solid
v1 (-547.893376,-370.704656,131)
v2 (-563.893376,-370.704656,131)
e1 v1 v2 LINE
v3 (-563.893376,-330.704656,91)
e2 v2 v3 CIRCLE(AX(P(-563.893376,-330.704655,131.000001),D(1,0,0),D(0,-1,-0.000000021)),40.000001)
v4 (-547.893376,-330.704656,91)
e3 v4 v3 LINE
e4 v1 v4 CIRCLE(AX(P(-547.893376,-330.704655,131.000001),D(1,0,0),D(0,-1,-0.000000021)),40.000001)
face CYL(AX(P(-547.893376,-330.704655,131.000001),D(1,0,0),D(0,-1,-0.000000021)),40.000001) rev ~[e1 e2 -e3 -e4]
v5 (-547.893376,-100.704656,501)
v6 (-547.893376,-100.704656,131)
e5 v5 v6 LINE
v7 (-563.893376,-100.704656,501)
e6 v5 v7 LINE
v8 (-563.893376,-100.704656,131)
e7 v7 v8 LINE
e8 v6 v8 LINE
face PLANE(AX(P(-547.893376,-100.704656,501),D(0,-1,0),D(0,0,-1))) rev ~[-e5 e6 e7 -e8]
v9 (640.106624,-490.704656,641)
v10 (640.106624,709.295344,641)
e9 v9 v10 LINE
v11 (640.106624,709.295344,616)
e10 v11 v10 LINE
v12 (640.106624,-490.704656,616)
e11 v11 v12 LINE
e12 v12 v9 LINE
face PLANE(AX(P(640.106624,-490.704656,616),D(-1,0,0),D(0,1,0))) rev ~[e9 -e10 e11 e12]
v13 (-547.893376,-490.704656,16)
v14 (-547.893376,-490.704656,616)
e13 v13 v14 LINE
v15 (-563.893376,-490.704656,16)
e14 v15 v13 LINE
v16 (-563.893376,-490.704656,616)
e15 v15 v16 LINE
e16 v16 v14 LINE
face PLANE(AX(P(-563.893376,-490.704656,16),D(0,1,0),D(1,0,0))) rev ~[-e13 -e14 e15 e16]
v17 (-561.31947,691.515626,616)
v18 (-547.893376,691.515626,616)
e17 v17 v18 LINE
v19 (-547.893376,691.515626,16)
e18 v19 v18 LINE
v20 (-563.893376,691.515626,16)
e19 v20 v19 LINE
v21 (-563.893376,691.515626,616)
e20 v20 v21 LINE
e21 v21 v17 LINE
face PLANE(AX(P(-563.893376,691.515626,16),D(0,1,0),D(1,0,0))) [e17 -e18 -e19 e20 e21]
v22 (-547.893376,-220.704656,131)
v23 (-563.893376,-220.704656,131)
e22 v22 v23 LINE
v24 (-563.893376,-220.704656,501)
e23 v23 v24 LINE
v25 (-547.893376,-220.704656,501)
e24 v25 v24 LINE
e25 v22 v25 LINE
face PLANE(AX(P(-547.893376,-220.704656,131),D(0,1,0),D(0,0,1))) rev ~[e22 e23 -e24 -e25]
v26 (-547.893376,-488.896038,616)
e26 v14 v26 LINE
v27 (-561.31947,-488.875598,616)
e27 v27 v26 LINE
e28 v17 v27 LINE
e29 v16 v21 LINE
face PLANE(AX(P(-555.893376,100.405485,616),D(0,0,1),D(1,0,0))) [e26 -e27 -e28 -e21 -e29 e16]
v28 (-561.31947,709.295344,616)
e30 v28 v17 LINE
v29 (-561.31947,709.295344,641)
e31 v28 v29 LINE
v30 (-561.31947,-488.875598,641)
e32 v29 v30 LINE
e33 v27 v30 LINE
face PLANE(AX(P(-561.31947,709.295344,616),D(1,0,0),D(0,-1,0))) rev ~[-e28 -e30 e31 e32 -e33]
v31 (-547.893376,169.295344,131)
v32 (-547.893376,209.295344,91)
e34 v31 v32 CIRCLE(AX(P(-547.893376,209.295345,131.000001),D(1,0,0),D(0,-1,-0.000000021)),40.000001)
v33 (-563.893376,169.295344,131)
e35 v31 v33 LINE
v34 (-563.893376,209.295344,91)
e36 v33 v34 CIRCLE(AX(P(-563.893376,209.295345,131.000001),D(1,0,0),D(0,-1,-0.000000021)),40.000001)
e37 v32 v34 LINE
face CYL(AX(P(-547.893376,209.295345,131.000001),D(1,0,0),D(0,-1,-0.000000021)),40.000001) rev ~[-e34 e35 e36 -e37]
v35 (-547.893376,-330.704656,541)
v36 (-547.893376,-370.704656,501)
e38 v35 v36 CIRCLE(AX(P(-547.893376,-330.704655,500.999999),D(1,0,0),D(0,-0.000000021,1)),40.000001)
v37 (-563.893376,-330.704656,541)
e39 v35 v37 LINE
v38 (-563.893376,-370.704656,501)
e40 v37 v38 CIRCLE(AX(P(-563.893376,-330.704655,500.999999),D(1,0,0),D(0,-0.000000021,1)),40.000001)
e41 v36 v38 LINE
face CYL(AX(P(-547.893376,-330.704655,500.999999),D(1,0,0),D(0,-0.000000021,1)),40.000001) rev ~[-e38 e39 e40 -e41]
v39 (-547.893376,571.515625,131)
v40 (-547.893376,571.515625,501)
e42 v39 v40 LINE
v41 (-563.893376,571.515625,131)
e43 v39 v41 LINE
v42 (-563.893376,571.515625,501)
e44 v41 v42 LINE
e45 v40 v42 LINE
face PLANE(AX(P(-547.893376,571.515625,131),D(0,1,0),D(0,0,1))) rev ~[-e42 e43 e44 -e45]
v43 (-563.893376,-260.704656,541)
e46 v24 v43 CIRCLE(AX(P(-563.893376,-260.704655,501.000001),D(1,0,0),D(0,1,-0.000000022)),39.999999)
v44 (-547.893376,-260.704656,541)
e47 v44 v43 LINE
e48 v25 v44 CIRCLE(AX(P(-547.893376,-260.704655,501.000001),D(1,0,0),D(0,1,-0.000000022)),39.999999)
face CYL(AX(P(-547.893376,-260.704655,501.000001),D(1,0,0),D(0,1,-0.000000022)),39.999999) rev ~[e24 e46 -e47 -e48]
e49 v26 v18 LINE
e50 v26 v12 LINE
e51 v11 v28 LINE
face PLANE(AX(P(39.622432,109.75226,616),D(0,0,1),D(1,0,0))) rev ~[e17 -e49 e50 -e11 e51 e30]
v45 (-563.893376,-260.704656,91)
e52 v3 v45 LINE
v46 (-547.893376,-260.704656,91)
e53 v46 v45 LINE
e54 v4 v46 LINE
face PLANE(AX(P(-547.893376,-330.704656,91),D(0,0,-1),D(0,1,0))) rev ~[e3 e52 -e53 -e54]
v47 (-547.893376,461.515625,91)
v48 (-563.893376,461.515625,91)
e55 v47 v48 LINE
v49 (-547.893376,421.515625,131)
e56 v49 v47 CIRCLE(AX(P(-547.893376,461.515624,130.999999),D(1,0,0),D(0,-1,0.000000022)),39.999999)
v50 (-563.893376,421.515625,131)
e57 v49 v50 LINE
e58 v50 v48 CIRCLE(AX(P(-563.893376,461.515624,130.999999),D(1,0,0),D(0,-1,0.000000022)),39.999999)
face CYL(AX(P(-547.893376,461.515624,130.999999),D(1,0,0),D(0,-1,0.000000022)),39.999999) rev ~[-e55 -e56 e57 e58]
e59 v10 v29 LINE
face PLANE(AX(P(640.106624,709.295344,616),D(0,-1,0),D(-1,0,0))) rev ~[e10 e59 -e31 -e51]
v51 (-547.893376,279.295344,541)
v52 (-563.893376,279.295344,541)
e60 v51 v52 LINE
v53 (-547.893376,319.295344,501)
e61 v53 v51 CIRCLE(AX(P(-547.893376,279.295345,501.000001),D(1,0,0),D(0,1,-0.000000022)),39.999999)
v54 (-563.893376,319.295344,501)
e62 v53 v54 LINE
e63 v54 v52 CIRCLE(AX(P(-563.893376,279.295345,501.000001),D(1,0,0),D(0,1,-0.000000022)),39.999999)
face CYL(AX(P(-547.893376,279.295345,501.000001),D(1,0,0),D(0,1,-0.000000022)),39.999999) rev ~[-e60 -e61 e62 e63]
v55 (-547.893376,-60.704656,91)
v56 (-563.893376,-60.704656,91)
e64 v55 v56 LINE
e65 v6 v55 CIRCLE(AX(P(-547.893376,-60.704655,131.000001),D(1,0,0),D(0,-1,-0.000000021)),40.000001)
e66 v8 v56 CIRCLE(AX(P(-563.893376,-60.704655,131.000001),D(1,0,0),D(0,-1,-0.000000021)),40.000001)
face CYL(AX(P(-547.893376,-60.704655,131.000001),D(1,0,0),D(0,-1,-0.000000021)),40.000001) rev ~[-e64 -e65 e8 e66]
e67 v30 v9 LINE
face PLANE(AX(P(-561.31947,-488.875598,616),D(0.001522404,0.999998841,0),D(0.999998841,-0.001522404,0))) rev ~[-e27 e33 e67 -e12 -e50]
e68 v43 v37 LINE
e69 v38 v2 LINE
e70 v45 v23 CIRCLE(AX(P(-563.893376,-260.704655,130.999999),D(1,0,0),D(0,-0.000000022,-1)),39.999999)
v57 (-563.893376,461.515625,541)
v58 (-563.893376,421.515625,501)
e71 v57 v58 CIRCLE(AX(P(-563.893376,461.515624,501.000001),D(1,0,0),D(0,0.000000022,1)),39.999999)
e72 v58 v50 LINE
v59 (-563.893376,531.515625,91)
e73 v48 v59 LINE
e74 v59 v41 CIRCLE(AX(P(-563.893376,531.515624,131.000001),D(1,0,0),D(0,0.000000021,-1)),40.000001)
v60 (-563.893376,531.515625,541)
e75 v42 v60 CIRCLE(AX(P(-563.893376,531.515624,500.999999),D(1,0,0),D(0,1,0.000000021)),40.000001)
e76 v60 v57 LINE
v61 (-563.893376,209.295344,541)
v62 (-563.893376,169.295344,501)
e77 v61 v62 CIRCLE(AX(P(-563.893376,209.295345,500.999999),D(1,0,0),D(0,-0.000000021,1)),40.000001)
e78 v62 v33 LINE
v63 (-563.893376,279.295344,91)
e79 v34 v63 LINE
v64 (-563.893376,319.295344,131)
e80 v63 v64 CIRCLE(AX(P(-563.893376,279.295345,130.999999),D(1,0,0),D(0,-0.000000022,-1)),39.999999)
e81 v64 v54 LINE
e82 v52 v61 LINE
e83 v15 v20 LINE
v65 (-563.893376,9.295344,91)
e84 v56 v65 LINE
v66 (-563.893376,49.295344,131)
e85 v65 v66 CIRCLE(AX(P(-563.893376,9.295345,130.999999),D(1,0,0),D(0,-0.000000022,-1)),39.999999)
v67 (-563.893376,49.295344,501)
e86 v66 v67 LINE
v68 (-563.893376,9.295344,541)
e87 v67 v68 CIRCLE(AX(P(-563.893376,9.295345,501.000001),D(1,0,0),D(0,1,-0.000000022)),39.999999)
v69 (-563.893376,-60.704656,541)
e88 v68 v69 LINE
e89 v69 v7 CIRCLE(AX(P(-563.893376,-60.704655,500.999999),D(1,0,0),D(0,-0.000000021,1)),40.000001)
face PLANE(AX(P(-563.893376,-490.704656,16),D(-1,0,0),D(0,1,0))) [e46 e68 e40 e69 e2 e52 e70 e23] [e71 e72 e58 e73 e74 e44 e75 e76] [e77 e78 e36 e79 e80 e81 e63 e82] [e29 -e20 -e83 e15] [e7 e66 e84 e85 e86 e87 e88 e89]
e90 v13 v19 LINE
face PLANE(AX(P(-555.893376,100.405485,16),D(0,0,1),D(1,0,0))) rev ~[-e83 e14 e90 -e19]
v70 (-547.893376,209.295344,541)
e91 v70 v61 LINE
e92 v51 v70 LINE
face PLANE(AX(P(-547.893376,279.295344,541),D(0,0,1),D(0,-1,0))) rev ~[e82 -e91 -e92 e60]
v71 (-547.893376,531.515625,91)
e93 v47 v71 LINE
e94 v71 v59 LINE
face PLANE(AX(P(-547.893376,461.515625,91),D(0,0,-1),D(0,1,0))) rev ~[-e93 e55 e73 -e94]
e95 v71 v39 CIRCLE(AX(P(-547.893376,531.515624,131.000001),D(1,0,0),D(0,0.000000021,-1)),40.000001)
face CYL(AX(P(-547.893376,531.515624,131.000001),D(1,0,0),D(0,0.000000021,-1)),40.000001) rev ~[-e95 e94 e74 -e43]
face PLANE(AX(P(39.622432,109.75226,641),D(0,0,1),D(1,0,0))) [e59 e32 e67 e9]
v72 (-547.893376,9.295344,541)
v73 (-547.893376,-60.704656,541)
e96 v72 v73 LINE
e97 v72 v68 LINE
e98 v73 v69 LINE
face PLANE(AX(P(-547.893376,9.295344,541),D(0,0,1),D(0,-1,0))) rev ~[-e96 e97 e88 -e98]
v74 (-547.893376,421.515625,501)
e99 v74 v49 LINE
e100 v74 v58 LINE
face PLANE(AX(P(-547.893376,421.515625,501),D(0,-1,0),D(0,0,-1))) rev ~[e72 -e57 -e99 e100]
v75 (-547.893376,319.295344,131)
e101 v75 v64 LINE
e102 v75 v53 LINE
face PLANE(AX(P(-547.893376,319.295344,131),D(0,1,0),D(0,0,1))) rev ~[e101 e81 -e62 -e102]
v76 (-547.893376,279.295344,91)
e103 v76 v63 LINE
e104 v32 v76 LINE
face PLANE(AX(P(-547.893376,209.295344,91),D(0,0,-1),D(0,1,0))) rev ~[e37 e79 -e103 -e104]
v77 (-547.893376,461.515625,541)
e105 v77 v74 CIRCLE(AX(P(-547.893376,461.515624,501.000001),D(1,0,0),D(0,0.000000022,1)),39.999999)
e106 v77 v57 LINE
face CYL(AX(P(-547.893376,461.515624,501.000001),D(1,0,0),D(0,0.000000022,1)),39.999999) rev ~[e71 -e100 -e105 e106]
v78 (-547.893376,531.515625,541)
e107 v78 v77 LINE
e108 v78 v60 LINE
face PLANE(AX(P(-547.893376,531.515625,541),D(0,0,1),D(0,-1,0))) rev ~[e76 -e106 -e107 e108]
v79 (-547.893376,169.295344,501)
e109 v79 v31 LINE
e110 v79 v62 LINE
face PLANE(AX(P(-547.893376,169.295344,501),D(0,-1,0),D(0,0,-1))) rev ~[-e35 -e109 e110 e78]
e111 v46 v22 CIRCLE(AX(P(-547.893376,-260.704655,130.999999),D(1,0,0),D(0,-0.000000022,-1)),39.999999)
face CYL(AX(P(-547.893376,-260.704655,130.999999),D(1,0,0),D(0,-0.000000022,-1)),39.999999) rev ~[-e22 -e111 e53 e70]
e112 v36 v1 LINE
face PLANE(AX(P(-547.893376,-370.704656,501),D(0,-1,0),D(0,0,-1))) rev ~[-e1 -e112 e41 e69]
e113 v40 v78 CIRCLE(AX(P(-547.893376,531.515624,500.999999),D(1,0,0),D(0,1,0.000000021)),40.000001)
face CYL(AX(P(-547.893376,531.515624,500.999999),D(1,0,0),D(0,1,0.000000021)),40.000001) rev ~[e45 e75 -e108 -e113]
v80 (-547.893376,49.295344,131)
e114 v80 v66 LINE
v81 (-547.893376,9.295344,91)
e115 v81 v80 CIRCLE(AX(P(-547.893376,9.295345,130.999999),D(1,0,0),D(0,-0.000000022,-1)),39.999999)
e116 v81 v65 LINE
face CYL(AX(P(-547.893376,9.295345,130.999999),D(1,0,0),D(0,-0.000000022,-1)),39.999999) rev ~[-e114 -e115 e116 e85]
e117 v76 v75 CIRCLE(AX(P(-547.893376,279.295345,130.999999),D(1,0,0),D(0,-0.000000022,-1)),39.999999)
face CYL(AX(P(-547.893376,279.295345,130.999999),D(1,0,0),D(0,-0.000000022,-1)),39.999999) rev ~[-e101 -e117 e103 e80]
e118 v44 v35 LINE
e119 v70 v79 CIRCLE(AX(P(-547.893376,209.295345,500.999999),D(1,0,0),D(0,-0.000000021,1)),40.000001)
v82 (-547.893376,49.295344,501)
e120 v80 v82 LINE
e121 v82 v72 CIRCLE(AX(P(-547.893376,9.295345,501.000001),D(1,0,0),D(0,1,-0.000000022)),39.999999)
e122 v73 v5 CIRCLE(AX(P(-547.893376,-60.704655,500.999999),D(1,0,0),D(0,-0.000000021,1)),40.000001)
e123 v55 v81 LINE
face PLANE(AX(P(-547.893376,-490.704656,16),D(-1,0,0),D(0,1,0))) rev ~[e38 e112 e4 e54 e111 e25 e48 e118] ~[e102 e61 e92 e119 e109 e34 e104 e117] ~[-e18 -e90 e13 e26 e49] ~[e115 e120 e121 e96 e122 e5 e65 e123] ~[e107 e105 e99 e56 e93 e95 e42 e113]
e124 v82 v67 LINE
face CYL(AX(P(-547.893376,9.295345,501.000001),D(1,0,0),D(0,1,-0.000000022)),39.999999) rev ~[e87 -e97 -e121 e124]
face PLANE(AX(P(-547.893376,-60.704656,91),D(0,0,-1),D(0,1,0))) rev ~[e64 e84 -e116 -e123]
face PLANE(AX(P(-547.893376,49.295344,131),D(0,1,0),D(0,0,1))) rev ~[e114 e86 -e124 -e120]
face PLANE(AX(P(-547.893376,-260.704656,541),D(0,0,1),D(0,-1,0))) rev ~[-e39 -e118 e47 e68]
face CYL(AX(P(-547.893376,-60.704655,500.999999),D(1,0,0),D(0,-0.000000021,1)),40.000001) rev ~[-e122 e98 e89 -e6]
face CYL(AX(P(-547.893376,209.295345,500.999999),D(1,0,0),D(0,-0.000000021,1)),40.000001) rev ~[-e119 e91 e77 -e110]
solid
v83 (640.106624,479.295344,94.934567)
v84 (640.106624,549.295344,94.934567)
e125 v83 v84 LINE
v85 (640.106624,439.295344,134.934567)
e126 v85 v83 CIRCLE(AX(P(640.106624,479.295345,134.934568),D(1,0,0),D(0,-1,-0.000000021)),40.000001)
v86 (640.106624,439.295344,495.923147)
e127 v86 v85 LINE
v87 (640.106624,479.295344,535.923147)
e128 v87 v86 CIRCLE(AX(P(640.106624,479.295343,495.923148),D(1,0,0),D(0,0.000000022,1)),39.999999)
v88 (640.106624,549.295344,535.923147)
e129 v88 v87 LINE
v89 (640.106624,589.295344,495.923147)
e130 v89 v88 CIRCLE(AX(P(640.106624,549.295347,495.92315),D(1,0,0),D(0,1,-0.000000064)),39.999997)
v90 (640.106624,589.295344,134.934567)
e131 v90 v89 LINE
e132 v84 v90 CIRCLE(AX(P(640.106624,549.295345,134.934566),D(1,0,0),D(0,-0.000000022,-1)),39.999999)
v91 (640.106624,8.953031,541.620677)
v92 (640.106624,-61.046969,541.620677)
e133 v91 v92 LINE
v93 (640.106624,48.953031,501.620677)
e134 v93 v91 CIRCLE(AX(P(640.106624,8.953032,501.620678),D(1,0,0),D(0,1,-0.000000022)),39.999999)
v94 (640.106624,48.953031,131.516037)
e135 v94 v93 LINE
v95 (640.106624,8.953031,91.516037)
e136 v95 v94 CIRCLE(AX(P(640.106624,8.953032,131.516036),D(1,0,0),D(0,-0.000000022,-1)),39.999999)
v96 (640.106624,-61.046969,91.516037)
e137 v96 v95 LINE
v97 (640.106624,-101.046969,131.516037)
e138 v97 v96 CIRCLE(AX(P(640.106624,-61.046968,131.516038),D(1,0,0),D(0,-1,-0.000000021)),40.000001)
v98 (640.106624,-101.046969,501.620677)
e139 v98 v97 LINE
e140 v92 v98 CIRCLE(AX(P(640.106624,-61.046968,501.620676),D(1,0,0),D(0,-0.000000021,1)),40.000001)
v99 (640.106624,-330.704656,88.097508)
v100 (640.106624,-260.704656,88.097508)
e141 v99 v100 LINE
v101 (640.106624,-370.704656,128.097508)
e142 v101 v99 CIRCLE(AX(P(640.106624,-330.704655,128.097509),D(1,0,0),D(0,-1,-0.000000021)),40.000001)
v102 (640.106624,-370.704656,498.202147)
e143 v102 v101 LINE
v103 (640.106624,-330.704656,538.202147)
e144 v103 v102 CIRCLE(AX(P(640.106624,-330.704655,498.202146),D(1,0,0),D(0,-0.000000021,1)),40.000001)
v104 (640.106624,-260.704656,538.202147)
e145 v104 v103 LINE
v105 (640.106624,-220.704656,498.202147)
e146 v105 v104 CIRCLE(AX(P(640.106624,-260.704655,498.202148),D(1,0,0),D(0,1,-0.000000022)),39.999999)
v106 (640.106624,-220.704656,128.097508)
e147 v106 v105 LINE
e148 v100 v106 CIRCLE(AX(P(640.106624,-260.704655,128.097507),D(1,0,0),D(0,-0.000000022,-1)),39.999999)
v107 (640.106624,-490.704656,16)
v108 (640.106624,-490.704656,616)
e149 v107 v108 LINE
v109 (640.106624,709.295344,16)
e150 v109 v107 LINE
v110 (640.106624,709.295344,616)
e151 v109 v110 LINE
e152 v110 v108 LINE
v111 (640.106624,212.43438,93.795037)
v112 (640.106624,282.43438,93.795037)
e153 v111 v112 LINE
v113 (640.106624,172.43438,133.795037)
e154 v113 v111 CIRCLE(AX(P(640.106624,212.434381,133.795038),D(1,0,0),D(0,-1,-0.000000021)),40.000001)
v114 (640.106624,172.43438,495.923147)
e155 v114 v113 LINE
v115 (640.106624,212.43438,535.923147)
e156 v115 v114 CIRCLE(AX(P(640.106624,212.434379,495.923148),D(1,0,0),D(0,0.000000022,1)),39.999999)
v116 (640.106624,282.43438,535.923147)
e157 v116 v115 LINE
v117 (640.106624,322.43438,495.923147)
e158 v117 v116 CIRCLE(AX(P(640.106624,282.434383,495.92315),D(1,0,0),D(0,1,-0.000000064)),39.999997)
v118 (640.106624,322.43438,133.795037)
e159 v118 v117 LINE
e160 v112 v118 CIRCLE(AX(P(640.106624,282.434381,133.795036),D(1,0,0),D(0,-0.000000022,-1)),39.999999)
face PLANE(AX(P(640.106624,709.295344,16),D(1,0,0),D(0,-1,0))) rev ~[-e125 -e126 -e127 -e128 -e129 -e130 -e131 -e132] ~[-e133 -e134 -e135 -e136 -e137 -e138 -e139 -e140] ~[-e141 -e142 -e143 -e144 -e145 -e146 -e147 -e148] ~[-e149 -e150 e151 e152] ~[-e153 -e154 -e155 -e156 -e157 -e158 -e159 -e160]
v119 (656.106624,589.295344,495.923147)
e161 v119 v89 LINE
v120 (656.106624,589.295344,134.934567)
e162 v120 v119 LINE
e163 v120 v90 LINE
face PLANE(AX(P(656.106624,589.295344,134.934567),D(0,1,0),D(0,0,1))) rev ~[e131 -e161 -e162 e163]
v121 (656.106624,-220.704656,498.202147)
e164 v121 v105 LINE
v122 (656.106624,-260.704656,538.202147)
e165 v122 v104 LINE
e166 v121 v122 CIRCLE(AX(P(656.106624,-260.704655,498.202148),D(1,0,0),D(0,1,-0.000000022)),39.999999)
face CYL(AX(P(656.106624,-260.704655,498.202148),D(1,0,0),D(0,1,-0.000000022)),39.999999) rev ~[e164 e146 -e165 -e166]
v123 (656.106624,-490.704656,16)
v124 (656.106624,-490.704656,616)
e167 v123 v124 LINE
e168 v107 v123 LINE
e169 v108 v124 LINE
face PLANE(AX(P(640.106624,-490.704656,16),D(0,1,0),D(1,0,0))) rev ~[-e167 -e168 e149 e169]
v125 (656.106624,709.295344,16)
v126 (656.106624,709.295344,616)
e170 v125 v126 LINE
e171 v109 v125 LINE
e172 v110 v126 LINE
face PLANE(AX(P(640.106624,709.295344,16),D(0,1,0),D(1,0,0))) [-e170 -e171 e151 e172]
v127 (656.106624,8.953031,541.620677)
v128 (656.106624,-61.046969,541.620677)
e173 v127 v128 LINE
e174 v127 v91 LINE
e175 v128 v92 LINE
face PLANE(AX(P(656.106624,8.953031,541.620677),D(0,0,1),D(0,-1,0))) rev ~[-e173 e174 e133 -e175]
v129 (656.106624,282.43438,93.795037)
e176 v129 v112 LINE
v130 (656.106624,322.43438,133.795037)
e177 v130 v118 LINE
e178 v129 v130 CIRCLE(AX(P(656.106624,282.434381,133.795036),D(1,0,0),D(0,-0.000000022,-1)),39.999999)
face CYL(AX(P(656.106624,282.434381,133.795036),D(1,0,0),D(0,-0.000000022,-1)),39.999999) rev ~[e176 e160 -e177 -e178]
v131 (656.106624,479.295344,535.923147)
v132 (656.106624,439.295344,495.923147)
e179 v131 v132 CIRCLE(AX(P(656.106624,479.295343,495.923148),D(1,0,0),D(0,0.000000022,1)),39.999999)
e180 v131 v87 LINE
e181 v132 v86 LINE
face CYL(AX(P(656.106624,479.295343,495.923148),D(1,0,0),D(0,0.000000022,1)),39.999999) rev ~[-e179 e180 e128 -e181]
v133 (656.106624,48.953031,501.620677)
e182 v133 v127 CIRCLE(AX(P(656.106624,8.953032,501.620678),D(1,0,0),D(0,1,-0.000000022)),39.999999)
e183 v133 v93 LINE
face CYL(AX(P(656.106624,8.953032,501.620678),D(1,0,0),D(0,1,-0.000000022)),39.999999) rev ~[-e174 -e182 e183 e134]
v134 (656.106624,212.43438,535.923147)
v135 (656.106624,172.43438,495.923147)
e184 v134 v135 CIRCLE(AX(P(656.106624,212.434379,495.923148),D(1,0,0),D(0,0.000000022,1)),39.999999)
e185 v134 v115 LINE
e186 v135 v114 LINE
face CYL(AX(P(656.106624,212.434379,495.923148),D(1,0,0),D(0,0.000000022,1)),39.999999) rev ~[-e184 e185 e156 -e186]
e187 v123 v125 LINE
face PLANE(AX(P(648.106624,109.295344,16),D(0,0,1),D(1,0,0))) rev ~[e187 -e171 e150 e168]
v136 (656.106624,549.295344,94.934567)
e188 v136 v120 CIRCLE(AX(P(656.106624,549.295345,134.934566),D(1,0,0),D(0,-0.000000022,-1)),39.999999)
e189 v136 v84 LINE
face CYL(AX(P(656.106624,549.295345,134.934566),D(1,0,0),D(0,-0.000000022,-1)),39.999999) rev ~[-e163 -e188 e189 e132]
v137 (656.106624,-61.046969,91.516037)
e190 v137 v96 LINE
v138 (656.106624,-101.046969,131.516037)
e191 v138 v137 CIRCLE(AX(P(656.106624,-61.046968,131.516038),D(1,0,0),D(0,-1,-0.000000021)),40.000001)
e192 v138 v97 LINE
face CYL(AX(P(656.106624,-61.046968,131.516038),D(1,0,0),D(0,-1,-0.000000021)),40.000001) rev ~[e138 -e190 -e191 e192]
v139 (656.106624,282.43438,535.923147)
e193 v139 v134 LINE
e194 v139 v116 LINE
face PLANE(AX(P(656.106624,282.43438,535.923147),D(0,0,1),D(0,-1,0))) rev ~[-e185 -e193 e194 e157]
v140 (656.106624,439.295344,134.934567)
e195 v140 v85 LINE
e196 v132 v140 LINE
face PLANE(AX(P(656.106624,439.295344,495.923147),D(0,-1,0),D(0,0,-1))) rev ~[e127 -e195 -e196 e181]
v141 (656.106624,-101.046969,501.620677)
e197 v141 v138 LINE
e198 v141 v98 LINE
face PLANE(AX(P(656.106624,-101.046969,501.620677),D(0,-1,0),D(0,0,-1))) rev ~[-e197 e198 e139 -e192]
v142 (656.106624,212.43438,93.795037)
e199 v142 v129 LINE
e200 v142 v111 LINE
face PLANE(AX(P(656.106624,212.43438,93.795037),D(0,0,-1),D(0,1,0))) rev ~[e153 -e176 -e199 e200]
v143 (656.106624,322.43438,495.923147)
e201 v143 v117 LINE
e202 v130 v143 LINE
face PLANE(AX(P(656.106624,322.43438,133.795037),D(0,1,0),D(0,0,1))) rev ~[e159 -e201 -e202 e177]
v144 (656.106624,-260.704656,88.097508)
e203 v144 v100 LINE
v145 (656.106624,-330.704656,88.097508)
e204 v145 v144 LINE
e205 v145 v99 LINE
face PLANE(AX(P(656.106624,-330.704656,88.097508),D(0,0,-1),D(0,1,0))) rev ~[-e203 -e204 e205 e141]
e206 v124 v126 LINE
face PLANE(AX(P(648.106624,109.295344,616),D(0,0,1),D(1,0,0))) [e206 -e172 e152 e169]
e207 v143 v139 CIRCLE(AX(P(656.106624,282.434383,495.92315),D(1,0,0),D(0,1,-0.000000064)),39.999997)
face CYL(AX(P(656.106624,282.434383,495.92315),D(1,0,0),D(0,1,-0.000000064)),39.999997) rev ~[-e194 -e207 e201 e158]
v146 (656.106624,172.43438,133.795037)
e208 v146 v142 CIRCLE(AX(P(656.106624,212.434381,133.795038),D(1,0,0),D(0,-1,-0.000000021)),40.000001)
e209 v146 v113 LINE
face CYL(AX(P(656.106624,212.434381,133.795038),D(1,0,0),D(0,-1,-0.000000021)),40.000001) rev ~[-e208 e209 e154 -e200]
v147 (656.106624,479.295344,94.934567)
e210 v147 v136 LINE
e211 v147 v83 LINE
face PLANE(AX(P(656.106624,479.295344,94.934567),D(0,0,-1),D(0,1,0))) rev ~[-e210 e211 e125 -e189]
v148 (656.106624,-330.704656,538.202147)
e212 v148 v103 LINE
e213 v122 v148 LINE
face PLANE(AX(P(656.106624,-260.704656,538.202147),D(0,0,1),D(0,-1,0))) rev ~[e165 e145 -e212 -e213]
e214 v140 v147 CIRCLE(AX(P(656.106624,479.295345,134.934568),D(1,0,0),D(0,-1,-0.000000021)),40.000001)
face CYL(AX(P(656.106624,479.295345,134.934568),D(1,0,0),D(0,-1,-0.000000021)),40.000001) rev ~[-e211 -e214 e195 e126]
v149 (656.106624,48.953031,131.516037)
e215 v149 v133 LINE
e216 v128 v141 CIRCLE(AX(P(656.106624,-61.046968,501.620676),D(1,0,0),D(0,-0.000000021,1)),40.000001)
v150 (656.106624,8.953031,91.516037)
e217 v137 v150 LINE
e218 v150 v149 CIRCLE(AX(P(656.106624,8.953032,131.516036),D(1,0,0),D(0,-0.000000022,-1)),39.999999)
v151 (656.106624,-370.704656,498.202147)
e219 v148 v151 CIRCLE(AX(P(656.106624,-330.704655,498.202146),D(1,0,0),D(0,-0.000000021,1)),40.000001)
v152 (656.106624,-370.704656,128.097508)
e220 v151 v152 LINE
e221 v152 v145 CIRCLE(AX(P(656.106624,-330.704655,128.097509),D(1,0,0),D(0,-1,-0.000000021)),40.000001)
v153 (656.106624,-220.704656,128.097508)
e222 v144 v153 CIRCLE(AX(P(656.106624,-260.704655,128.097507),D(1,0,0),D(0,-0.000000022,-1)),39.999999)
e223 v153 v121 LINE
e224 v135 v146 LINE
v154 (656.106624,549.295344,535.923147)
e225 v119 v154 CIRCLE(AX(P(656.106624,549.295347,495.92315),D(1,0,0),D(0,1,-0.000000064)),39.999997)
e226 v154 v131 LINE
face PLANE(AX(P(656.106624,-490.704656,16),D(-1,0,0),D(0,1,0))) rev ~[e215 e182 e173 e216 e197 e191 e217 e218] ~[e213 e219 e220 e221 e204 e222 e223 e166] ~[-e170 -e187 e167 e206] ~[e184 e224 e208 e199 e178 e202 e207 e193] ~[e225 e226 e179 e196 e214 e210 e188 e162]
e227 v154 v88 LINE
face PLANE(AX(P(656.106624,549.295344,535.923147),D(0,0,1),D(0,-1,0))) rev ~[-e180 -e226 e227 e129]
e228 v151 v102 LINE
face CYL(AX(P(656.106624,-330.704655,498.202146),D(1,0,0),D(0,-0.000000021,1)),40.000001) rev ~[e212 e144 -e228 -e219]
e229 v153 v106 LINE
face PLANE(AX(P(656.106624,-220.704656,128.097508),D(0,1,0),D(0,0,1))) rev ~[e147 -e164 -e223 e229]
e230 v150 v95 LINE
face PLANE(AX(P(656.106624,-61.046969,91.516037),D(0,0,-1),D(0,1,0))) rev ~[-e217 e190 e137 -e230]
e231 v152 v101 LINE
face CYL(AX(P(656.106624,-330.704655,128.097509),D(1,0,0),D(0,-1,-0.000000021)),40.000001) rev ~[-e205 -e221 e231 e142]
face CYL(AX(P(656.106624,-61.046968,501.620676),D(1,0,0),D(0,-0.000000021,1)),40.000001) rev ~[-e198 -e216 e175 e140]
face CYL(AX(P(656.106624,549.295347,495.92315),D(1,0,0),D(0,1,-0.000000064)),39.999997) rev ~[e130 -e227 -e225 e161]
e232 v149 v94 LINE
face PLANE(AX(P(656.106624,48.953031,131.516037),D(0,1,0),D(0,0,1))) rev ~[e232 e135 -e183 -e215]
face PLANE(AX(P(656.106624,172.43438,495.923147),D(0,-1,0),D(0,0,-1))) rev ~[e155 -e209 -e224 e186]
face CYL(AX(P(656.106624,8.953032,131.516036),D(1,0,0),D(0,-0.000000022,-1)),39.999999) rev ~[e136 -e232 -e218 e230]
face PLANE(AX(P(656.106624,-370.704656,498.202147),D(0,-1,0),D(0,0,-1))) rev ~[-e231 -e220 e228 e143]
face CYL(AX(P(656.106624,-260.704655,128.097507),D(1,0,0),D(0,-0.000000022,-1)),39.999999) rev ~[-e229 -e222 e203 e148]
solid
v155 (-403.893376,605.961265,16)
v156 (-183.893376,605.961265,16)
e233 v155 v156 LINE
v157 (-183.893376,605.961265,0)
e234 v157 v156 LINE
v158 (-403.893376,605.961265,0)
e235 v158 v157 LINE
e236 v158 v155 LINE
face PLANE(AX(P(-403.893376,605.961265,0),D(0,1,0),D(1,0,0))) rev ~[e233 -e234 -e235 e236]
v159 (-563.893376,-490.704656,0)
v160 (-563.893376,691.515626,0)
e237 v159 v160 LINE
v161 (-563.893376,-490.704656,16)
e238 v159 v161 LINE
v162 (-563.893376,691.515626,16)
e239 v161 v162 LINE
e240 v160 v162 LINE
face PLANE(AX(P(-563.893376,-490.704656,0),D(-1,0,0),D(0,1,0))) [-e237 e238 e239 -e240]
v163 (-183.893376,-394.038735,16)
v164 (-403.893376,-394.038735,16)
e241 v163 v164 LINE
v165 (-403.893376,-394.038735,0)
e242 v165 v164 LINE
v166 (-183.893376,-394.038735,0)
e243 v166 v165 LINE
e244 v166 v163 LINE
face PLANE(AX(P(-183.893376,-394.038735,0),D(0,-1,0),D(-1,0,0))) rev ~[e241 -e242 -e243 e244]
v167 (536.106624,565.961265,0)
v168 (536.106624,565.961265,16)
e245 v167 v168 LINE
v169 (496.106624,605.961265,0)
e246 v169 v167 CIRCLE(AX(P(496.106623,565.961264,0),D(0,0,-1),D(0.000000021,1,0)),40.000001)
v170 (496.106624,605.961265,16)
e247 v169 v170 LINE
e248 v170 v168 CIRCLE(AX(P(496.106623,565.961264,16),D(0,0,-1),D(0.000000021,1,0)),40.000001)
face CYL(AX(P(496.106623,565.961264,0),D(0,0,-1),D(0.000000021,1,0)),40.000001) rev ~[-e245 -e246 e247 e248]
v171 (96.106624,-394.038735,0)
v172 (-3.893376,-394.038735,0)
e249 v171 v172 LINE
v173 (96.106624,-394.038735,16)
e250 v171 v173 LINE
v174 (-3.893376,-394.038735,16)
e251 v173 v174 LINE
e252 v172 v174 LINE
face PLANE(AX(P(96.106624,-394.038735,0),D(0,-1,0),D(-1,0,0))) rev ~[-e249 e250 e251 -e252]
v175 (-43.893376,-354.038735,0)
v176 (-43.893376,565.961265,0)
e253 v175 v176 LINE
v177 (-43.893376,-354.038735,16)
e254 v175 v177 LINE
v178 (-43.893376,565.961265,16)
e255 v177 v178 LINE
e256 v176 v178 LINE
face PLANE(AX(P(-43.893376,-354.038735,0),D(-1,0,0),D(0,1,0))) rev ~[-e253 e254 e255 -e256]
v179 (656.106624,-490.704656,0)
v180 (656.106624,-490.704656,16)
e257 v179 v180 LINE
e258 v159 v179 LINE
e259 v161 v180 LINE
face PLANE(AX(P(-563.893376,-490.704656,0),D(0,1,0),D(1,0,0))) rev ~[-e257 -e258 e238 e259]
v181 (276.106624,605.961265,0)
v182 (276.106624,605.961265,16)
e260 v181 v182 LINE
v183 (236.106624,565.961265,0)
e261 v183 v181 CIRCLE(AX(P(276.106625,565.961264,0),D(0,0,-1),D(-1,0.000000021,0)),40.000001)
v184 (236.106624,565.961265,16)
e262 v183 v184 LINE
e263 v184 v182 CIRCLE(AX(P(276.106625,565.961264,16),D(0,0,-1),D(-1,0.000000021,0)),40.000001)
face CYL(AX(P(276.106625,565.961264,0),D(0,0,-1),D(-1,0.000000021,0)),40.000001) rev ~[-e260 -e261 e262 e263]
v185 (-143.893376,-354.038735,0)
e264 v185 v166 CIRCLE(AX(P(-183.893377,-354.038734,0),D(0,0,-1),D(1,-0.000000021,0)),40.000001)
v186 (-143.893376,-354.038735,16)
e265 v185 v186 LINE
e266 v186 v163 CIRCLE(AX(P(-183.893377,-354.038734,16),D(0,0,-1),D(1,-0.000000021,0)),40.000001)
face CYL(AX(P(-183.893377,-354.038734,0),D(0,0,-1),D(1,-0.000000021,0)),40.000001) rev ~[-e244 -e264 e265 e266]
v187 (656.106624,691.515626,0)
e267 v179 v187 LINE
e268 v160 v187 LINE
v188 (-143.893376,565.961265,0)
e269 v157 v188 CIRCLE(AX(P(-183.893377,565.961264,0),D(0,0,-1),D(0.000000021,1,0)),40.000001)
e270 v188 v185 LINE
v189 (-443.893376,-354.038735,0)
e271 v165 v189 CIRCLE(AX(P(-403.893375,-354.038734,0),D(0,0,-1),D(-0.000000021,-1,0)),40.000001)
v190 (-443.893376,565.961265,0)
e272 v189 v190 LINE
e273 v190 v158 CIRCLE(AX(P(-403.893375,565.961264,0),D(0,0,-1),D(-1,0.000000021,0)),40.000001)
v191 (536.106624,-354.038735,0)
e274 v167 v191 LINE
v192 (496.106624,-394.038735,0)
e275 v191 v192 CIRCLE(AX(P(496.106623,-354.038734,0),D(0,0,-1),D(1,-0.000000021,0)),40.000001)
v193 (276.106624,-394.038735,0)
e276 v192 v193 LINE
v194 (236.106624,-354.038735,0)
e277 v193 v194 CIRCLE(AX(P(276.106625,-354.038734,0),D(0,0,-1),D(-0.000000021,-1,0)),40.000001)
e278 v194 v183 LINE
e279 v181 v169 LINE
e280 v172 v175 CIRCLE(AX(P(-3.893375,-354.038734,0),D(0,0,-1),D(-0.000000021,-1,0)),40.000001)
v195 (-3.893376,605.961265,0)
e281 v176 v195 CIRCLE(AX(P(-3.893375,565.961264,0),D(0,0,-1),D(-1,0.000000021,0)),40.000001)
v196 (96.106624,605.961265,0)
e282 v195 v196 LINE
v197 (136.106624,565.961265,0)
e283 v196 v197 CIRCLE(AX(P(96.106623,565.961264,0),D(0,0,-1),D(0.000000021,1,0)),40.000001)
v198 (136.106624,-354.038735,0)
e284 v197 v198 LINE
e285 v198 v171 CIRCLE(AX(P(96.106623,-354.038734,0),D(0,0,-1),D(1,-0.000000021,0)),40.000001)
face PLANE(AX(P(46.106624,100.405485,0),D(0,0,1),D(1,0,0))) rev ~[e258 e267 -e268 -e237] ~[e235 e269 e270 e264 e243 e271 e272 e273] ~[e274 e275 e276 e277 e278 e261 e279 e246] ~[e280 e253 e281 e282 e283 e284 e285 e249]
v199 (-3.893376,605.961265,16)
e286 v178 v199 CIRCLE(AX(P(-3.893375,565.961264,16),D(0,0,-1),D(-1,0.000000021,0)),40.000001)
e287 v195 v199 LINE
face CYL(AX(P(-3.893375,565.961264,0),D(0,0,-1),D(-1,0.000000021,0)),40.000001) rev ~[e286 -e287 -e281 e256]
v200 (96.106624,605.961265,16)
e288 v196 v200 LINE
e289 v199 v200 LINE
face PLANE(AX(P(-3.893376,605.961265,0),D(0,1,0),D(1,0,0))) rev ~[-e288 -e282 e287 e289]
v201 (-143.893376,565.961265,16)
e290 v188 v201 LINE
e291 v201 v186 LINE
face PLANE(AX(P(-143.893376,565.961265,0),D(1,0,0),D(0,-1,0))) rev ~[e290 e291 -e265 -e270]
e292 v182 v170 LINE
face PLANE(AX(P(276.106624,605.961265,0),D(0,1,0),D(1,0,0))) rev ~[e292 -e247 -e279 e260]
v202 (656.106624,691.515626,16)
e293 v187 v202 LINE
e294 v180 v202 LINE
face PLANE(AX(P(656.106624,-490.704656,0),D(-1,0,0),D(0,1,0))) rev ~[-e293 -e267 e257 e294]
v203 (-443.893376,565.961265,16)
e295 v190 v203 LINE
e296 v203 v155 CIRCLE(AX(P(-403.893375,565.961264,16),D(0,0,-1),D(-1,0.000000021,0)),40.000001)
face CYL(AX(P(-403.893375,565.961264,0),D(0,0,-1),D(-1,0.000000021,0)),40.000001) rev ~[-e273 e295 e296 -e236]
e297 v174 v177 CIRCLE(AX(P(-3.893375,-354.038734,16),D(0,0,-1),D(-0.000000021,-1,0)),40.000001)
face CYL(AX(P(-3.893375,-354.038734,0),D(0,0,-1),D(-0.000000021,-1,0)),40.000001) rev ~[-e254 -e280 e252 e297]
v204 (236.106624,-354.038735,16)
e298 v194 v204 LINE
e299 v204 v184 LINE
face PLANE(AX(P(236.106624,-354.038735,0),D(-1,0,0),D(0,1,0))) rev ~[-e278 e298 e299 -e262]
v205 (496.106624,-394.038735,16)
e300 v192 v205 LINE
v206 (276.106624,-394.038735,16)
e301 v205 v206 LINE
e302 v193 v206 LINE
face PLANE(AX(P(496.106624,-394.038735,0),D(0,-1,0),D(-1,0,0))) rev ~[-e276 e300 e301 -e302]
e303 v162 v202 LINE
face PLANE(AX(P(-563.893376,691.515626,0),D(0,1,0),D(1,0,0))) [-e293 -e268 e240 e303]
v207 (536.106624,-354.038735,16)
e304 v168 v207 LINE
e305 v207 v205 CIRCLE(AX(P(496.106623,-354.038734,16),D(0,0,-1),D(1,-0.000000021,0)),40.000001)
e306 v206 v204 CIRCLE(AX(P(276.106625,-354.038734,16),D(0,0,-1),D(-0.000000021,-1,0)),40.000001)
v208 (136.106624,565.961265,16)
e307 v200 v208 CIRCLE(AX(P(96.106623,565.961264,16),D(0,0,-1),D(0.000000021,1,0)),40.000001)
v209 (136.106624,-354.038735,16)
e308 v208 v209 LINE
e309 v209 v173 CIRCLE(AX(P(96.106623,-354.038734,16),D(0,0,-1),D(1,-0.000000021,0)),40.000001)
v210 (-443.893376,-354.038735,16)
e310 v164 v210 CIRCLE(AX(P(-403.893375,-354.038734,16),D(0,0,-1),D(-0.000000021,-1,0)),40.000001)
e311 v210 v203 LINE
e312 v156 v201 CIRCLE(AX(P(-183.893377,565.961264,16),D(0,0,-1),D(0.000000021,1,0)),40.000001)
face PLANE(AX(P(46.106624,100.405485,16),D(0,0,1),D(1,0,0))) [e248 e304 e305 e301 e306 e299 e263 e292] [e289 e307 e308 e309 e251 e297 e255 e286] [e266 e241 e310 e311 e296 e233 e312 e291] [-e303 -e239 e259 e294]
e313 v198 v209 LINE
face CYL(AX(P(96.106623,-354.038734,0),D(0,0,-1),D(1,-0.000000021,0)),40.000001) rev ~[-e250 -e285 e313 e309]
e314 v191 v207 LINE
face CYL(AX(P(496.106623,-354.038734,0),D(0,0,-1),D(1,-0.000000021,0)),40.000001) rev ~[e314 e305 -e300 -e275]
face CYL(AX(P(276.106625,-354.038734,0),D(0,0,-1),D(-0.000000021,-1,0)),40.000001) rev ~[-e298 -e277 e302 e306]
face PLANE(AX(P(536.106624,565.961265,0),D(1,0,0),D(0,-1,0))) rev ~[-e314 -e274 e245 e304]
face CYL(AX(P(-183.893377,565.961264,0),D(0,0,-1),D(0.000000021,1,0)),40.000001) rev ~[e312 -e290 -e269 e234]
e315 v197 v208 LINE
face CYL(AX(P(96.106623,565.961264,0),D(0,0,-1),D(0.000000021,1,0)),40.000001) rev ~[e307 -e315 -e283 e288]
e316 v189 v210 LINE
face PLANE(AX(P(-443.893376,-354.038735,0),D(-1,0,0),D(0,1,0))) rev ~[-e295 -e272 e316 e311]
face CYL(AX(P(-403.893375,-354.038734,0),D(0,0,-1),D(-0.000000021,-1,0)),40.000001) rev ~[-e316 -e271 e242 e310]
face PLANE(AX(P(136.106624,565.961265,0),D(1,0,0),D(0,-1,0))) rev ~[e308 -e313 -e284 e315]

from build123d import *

# Parameters (mm, degrees)
F2_W      = 1220
F2_H      = 1182.220281
F3_DEPTH  = 16
F4_W      = 16
F4_H      = 1182.220281
F5_DEPTH  = 600
F7_DEPTH  = 16
F8_W      = 16
F8_H      = 1200
F8_H_2    = 1182.220281
F9_DEPTH  = 600
F11_DEPTH = 16
F13_DEPTH = 25


with BuildPart() as f3:
    # F2 (on face) → F3 (new body)
    with BuildSketch(Plane.XY):
        with Locations((46.106624, 100.405485)):
            Rectangle(F2_W, F2_H)
        with BuildLine():
            Line((-443.893376, -354.038735), (-443.893376, 565.961265))
            ThreePointArc((-443.893376, 565.961265), (-432.177647, 594.245536), (-403.893376, 605.961265))
            Line((-403.893376, 605.961265), (-183.893376, 605.961265))
            ThreePointArc((-183.893376, 605.961265), (-155.609105, 594.245536), (-143.893376, 565.961265))
            Line((-143.893376, 565.961265), (-143.893376, -354.038735))
            ThreePointArc((-143.893376, -354.038735), (-155.609105, -382.323006), (-183.893376, -394.038735))
            Line((-183.893376, -394.038735), (-403.893376, -394.038735))
            ThreePointArc((-403.893376, -394.038735), (-432.177647, -382.323006), (-443.893376, -354.038735))
        make_face(mode=Mode.SUBTRACT)
        with BuildLine():
            Line((-43.893376, -354.038735), (-43.893376, 565.961265))
            ThreePointArc((-43.893376, 565.961265), (-32.177647, 594.245536), (-3.893376, 605.961265))
            Line((-3.893376, 605.961265), (96.106624, 605.961265))
            ThreePointArc((96.106624, 605.961265), (124.390895, 594.245536), (136.106624, 565.961265))
            Line((136.106624, 565.961265), (136.106624, -354.038735))
            ThreePointArc((136.106624, -354.038735), (124.390895, -382.323006), (96.106624, -394.038735))
            Line((96.106624, -394.038735), (-3.893376, -394.038735))
            ThreePointArc((-3.893376, -394.038735), (-32.177647, -382.323006), (-43.893376, -354.038735))
        make_face(mode=Mode.SUBTRACT)
        with BuildLine():
            ThreePointArc((536.106624, -354.038735), (524.390895, -382.323006), (496.106624, -394.038735))
            Line((496.106624, -394.038735), (276.106624, -394.038735))
            ThreePointArc((276.106624, -394.038735), (247.822353, -382.323006), (236.106624, -354.038735))
            Line((236.106624, -354.038735), (236.106624, 565.961265))
            ThreePointArc((236.106624, 565.961265), (247.822353, 594.245536), (276.106624, 605.961265))
            Line((276.106624, 605.961265), (496.106624, 605.961265))
            ThreePointArc((496.106624, 605.961265), (524.390895, 594.245536), (536.106624, 565.961265))
            Line((536.106624, 565.961265), (536.106624, -354.038735))
        make_face(mode=Mode.SUBTRACT)
    extrude(amount=F3_DEPTH)


with BuildPart() as f5:
    # F4 (on face) → F5 (new body)
    with BuildSketch(Plane.XY.offset(16)):
        with Locations((-555.893376, 100.405485)):
            Rectangle(F4_W, F4_H)
    extrude(amount=F5_DEPTH)

    # F6 (on face) → F7 (cut)
    with BuildSketch(Plane.YZ.offset(-547.893376)):
        with BuildLine():
            ThreePointArc((-100.704656, 131), (-88.988927, 102.715729), (-60.704656, 91))
            Line((-60.704656, 91), (9.295344, 91))
            ThreePointArc((9.295344, 91), (37.579616, 102.715729), (49.295344, 131))
            Line((49.295344, 131), (49.295344, 501))
            ThreePointArc((49.295344, 501), (37.579616, 529.284271), (9.295344, 541))
            Line((9.295344, 541), (-60.704656, 541))
            ThreePointArc((-60.704656, 541), (-88.988927, 529.284271), (-100.704656, 501))
            Line((-100.704656, 501), (-100.704656, 131))
        make_face()
        with BuildLine():
            ThreePointArc((421.515625, 131), (433.231353, 102.715729), (461.515625, 91))
            Line((461.515625, 91), (531.515625, 91))
            ThreePointArc((531.515625, 91), (559.799896, 102.715729), (571.515625, 131))
            Line((571.515625, 131), (571.515625, 501))
            ThreePointArc((571.515625, 501), (559.799896, 529.284271), (531.515625, 541))
            Line((531.515625, 541), (461.515625, 541))
            ThreePointArc((461.515625, 541), (433.231353, 529.284271), (421.515625, 501))
            Line((421.515625, 501), (421.515625, 131))
        make_face()
        with BuildLine():
            Line((279.295344, 541), (209.295344, 541))
            ThreePointArc((209.295344, 541), (181.011073, 529.284271), (169.295344, 501))
            Line((169.295344, 501), (169.295344, 131))
            ThreePointArc((169.295344, 131), (181.011073, 102.715729), (209.295344, 91))
            Line((209.295344, 91), (279.295344, 91))
            ThreePointArc((279.295344, 91), (307.579616, 102.715729), (319.295344, 131))
            Line((319.295344, 131), (319.295344, 501))
            ThreePointArc((319.295344, 501), (307.579616, 529.284271), (279.295344, 541))
        make_face()
        with BuildLine():
            Line((-260.704656, 541), (-330.704656, 541))
            ThreePointArc((-330.704656, 541), (-358.988927, 529.284271), (-370.704656, 501))
            Line((-370.704656, 501), (-370.704656, 131))
            ThreePointArc((-370.704656, 131), (-358.988927, 102.715729), (-330.704656, 91))
            Line((-330.704656, 91), (-260.704656, 91))
            ThreePointArc((-260.704656, 91), (-232.420384, 102.715729), (-220.704656, 131))
            Line((-220.704656, 131), (-220.704656, 501))
            ThreePointArc((-220.704656, 501), (-232.420384, 529.284271), (-260.704656, 541))
        make_face()
    extrude(amount=-F7_DEPTH, mode=Mode.SUBTRACT)



with BuildPart() as f9:
    # F8 (on face) → F9 (new body)
    with BuildSketch(Plane.XY.offset(16)):
        with Locations((648.106624, 109.295344)):
            Rectangle(F8_W, F8_H)
        with Locations((648.106624, 100.405485)):
            Rectangle(F8_W, F8_H_2)
    extrude(amount=F9_DEPTH)

    # F10 (on face) → F11 (cut)
    with BuildSketch(Plane.YZ.offset(656.106624)):
        with BuildLine():
            ThreePointArc((-101.046969, 131.516037), (-89.33124, 103.231766), (-61.046969, 91.516037))
            Line((-61.046969, 91.516037), (8.953031, 91.516037))
            ThreePointArc((8.953031, 91.516037), (37.237303, 103.231766), (48.953031, 131.516037))
            Line((48.953031, 131.516037), (48.953031, 501.620677))
            ThreePointArc((48.953031, 501.620677), (37.237303, 529.904948), (8.953031, 541.620677))
            Line((8.953031, 541.620677), (-61.046969, 541.620677))
            ThreePointArc((-61.046969, 541.620677), (-89.33124, 529.904948), (-101.046969, 501.620677))
            Line((-101.046969, 501.620677), (-101.046969, 131.516037))
        make_face()
        with BuildLine():
            ThreePointArc((172.43438, 133.795037), (184.150109, 105.510766), (212.43438, 93.795037))
            Line((212.43438, 93.795037), (282.43438, 93.795037))
            ThreePointArc((282.43438, 93.795037), (310.718652, 105.510766), (322.43438, 133.795037))
            Line((322.43438, 133.795037), (322.43438, 495.923147))
            ThreePointArc((322.43438, 495.923147), (310.718652, 524.207419), (282.43438, 535.923147))
            Line((282.43438, 535.923147), (212.43438, 535.923147))
            ThreePointArc((212.43438, 535.923147), (184.150109, 524.207419), (172.43438, 495.923147))
            Line((172.43438, 495.923147), (172.43438, 133.795037))
        make_face()
        with BuildLine():
            ThreePointArc((-370.704656, 128.097508), (-358.988927, 99.813237), (-330.704656, 88.097508))
            Line((-330.704656, 88.097508), (-260.704656, 88.097508))
            ThreePointArc((-260.704656, 88.097508), (-232.420384, 99.813237), (-220.704656, 128.097508))
            Line((-220.704656, 128.097508), (-220.704656, 498.202147))
            ThreePointArc((-220.704656, 498.202147), (-232.420384, 526.486418), (-260.704656, 538.202147))
            Line((-260.704656, 538.202147), (-330.704656, 538.202147))
            ThreePointArc((-330.704656, 538.202147), (-358.988927, 526.486418), (-370.704656, 498.202147))
            Line((-370.704656, 498.202147), (-370.704656, 128.097508))
        make_face()
        with BuildLine():
            ThreePointArc((439.295344, 134.934567), (451.011073, 106.650296), (479.295344, 94.934567))
            Line((479.295344, 94.934567), (549.295344, 94.934567))
            ThreePointArc((549.295344, 94.934567), (577.579616, 106.650296), (589.295344, 134.934567))
            Line((589.295344, 134.934567), (589.295344, 495.923147))
            ThreePointArc((589.295344, 495.923147), (577.579616, 524.207419), (549.295344, 535.923147))
            Line((549.295344, 535.923147), (479.295344, 535.923147))
            ThreePointArc((479.295344, 535.923147), (451.011073, 524.207419), (439.295344, 495.923147))
            Line((439.295344, 495.923147), (439.295344, 134.934567))
        make_face()
    extrude(amount=-F11_DEPTH, mode=Mode.SUBTRACT)


with BuildPart() as f5_1:
    add(f5.part)

    add(f9.part)  # F13 merges F9
    # F12 (on face) → F13 (join)
    with BuildSketch(Plane.XY.offset(616)):
        Polygon((-561.31947, -488.875598), (640.106624, -490.704656), (640.106624, 709.295344), (-561.31947, 709.295344), align=None)
    extrude(amount=F13_DEPTH)


solid = Compound([f3.part, f5_1.part])
